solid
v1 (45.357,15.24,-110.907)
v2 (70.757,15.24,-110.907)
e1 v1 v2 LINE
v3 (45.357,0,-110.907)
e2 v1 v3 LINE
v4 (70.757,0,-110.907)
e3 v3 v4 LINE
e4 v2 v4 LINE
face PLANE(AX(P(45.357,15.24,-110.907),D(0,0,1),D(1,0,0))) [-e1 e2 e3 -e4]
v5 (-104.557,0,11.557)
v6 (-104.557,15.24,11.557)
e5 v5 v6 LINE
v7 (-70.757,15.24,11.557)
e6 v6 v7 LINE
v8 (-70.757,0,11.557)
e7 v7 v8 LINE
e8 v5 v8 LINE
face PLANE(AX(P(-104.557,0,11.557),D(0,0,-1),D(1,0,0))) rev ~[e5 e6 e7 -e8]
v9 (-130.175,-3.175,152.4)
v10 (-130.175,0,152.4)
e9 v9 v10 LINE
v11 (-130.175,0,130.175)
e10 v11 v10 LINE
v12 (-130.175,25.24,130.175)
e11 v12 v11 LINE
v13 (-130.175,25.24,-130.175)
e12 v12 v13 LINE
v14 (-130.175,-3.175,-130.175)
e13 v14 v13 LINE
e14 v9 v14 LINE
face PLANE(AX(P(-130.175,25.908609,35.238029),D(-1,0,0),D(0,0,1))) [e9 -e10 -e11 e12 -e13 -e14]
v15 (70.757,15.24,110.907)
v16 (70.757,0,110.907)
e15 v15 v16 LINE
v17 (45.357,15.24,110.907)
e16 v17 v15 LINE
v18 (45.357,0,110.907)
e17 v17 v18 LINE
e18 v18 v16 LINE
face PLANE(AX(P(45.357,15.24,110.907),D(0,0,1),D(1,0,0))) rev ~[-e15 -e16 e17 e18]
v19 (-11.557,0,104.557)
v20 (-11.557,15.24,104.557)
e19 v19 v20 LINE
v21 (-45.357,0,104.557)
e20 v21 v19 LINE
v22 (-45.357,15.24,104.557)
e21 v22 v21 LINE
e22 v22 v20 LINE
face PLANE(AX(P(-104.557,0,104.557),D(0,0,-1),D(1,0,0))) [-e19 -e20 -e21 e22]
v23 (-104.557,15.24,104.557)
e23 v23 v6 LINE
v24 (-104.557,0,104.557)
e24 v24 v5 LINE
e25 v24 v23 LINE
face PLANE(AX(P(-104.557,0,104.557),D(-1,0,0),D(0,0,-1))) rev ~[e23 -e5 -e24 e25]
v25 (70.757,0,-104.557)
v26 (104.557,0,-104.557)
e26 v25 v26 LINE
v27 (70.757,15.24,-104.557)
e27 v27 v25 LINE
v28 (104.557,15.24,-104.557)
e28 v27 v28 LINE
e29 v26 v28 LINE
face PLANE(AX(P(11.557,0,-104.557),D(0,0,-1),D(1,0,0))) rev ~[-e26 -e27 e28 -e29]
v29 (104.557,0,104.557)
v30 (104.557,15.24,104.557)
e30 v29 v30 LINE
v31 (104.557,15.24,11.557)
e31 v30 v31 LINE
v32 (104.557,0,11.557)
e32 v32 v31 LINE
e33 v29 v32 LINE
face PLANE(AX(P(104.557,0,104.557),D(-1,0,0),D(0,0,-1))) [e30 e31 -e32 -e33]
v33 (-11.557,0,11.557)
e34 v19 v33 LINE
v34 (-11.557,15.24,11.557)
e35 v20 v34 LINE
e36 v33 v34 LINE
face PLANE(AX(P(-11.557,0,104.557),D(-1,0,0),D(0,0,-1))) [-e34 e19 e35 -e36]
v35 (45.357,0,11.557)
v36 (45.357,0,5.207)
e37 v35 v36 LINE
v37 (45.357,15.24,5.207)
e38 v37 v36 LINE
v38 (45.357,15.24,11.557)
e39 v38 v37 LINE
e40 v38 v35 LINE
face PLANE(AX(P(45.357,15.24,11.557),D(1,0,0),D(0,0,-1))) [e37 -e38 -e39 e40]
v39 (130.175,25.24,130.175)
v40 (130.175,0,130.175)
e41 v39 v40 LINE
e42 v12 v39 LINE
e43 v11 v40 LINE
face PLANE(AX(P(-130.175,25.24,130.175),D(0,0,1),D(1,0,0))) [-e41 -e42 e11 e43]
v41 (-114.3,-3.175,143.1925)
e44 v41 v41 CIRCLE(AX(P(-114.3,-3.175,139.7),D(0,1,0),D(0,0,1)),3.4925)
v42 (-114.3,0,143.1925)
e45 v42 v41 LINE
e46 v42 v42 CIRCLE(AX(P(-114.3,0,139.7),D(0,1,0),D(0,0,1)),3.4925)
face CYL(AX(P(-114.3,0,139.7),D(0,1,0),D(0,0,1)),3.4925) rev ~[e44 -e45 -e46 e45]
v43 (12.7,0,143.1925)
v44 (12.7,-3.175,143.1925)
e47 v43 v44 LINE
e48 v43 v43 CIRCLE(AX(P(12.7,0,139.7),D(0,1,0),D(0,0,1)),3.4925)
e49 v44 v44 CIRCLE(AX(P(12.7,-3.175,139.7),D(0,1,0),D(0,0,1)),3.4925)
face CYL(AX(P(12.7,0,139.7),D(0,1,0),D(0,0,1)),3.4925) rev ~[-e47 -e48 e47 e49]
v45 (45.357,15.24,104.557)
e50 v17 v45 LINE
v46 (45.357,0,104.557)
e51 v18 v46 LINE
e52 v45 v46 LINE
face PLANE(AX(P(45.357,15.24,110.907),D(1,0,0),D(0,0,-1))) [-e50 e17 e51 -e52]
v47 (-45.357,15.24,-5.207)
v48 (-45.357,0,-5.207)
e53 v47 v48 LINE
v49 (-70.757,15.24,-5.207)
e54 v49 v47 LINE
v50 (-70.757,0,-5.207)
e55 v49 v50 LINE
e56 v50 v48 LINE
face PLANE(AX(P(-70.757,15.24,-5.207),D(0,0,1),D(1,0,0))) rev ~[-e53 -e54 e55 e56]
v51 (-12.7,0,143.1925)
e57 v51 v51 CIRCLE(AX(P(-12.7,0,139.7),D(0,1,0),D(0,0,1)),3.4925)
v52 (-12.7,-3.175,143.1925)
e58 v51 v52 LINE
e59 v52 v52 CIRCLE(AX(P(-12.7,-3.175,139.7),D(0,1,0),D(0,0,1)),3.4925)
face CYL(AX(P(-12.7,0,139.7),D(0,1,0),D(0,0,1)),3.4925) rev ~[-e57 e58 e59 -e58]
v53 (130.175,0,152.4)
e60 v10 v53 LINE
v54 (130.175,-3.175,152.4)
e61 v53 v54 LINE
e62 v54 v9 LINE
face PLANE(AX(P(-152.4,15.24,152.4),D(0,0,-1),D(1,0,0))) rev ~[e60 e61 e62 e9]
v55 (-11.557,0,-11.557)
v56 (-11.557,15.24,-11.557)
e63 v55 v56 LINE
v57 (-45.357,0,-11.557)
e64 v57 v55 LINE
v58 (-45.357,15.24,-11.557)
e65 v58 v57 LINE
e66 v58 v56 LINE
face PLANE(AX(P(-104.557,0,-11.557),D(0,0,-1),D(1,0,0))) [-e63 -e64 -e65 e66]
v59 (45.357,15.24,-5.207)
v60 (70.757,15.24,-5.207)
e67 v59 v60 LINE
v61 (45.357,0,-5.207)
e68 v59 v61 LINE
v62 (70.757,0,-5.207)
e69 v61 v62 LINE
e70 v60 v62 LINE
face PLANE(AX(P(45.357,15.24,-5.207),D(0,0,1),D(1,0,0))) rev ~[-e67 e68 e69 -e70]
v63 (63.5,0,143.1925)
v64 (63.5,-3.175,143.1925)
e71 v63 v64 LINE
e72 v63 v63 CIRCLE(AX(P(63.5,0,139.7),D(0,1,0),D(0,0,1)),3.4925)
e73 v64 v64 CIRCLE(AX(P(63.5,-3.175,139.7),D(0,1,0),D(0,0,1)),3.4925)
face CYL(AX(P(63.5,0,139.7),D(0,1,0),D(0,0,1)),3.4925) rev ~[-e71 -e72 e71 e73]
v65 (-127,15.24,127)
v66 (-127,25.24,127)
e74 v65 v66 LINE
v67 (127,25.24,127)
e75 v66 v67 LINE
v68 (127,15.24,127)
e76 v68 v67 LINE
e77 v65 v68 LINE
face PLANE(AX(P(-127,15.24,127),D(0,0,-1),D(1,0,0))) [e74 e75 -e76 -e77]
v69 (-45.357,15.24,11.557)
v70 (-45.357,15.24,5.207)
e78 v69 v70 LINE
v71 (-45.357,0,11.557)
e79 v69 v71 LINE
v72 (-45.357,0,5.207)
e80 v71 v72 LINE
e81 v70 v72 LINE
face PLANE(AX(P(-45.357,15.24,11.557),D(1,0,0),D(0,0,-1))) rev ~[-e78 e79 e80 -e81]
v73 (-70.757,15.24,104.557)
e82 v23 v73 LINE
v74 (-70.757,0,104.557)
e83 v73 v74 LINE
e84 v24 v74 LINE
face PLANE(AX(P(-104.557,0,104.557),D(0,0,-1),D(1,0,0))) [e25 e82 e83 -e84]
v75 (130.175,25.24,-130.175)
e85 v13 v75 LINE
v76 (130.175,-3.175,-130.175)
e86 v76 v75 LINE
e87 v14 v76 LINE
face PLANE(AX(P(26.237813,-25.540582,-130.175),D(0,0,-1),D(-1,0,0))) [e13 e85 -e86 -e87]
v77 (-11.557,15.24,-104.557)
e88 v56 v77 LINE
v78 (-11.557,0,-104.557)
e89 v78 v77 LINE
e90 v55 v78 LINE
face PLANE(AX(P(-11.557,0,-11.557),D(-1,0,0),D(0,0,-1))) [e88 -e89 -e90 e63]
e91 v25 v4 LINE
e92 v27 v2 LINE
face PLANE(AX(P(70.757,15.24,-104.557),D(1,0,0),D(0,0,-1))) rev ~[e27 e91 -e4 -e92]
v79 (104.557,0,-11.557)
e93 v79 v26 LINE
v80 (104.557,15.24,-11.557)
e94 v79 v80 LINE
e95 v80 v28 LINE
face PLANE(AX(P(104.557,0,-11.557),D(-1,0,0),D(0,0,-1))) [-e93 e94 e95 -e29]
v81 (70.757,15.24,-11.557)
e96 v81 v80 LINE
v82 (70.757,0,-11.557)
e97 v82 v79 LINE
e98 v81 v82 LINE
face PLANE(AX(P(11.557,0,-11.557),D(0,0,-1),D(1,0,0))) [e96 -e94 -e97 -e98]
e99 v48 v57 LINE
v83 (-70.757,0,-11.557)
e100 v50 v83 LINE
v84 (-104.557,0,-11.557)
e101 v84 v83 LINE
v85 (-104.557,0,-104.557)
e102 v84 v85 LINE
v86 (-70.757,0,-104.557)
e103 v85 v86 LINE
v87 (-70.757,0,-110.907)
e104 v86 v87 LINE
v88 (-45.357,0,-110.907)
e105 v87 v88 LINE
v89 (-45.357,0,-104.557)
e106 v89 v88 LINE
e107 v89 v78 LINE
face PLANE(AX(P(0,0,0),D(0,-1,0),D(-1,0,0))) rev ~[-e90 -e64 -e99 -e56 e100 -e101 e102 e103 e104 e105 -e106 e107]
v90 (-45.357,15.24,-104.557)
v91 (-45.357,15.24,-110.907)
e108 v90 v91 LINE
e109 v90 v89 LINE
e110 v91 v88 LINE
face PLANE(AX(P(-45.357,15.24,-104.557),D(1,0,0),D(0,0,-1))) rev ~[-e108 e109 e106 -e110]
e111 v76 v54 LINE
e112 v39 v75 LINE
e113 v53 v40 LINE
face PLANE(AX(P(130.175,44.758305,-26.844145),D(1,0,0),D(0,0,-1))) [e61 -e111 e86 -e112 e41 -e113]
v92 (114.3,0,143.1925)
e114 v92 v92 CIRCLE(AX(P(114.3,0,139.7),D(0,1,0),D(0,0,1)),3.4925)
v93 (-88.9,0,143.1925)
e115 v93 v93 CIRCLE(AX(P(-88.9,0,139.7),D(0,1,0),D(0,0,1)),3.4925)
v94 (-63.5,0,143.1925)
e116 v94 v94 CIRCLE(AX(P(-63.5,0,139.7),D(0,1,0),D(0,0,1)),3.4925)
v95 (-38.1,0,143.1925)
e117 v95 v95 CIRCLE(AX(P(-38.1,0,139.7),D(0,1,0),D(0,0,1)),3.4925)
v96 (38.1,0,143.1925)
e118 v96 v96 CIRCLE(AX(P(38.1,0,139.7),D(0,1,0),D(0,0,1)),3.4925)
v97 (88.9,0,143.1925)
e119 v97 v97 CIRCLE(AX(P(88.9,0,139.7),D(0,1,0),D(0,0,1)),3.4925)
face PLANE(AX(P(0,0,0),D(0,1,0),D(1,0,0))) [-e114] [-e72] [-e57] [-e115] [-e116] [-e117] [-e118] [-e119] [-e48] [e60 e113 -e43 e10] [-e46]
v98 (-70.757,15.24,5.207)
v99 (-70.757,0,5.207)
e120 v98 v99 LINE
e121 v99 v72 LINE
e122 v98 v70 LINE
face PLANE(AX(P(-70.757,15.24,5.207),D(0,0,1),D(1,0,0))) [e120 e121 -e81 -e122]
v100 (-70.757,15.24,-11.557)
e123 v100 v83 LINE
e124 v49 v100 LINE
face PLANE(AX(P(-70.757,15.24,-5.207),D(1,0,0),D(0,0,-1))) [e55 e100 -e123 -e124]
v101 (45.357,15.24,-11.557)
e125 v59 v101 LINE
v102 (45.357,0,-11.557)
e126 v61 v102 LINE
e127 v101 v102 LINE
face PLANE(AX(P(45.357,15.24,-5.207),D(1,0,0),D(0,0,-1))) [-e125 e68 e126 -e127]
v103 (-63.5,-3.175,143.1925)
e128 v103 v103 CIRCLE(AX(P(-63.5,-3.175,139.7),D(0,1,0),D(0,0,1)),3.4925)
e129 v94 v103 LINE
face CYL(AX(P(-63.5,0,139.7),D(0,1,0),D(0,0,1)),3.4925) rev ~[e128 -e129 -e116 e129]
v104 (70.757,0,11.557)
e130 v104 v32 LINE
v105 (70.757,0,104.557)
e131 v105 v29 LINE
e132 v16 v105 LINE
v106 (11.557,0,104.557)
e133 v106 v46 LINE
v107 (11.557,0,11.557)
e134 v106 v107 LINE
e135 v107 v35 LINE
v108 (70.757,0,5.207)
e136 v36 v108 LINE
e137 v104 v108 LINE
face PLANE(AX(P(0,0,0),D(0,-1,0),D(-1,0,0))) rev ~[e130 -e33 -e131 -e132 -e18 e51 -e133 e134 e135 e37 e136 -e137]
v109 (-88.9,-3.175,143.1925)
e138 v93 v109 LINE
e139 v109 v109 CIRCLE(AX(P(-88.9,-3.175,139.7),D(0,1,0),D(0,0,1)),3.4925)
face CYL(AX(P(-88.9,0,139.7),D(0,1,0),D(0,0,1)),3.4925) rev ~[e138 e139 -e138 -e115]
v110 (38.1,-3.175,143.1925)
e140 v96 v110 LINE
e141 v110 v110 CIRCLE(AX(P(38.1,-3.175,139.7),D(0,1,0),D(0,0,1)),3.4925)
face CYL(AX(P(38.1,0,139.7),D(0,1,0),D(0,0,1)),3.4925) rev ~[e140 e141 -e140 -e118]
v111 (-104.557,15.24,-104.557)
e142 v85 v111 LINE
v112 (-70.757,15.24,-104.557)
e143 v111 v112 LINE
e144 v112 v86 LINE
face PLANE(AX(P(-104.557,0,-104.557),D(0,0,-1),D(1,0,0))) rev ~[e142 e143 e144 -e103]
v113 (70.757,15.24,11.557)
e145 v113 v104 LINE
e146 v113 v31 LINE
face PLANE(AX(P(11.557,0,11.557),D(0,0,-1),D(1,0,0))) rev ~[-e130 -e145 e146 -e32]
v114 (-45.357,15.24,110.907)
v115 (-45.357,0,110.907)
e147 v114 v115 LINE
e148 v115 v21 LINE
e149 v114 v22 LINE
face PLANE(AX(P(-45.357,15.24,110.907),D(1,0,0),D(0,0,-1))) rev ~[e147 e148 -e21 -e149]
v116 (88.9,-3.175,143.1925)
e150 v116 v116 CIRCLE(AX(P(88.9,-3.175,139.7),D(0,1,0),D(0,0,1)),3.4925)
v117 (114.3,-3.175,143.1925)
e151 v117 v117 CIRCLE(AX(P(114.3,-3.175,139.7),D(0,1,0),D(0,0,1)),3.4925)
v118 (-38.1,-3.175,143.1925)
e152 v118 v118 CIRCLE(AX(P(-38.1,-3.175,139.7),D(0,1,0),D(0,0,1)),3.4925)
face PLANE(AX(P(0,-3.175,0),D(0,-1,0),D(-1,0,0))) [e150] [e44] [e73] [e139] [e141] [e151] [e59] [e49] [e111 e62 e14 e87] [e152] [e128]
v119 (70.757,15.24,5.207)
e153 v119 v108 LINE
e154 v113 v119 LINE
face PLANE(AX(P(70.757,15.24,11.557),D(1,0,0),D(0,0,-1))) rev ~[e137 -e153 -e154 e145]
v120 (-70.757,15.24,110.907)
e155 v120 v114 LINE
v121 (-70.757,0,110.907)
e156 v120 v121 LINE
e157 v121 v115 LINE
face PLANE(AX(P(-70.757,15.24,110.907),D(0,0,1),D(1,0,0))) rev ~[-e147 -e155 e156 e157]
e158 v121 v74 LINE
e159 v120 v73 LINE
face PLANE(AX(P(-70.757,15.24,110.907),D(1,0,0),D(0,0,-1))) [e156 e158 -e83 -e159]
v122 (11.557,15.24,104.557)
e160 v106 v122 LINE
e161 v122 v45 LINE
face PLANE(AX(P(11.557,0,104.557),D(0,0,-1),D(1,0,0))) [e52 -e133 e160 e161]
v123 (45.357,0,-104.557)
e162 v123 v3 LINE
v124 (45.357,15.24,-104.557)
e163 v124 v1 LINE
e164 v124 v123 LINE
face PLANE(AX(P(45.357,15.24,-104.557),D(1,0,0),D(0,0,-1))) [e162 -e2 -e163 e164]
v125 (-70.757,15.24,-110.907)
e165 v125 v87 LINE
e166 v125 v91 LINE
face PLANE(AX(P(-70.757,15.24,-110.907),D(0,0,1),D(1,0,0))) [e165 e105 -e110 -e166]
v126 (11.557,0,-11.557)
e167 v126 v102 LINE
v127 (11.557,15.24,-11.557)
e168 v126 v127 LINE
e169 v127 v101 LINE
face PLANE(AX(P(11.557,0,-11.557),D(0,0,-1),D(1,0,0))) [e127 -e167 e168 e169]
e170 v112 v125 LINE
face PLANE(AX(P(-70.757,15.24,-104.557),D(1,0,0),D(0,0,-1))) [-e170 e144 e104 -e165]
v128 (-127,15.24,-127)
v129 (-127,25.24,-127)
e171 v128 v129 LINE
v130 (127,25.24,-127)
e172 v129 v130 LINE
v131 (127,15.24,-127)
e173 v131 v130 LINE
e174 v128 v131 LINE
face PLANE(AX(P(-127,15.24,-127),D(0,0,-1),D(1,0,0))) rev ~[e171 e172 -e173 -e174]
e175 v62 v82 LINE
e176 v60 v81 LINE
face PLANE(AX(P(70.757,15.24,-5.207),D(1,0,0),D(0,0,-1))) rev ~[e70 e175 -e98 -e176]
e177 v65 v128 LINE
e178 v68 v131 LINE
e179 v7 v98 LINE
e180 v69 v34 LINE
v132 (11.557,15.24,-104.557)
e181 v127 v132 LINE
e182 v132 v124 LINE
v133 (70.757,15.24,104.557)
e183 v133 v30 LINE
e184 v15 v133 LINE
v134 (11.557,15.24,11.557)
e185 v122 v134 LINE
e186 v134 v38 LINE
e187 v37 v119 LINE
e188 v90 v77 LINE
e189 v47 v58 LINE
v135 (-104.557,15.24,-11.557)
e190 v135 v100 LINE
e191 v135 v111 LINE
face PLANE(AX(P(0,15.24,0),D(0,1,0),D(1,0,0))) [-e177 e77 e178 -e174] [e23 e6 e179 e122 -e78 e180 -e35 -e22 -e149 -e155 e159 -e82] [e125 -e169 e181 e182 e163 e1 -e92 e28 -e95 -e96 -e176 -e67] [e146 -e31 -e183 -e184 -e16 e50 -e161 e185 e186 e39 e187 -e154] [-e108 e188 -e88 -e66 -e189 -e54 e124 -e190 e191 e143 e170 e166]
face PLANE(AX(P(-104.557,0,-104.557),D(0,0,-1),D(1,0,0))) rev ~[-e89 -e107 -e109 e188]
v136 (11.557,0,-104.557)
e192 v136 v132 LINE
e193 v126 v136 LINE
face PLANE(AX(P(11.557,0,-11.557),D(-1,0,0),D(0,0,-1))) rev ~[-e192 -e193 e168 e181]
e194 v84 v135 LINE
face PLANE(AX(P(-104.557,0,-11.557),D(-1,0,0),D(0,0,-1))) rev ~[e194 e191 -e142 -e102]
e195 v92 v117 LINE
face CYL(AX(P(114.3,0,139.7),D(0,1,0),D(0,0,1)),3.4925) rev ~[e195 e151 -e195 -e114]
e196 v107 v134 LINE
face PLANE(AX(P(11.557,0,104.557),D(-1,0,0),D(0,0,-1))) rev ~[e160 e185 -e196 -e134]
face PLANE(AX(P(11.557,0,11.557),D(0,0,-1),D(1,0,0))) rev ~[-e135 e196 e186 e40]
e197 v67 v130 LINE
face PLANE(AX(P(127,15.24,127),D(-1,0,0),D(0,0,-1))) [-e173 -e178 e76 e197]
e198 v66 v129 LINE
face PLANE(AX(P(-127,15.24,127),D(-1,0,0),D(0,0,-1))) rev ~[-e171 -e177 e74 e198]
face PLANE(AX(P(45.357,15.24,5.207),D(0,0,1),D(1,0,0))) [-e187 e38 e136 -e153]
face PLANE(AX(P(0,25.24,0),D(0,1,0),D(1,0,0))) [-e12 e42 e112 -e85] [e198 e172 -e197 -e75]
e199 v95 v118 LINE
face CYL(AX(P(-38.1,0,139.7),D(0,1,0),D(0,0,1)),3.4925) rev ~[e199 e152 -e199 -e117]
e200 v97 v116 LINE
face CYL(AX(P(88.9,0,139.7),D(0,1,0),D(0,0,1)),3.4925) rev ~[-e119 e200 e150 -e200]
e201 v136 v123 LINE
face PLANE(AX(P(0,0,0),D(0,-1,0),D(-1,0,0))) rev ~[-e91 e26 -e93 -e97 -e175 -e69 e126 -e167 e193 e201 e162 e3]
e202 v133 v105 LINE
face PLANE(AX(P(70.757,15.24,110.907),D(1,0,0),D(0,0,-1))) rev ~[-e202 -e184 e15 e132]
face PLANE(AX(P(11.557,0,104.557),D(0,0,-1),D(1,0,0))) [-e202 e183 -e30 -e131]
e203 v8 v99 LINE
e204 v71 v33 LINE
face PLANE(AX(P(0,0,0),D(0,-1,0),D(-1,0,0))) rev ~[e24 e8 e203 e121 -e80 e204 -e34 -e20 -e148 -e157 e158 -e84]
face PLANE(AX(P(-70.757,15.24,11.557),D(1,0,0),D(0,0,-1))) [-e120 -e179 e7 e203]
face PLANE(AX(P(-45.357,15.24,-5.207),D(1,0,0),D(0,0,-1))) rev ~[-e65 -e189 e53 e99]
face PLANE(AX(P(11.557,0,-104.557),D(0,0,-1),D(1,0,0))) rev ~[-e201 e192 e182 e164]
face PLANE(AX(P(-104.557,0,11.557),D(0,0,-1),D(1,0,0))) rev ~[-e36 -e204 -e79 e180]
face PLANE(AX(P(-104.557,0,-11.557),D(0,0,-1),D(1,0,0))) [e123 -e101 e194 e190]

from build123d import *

# Parameters (mm, degrees)
SKETCH1_W           = 304.8
SKETCH1_H           = 304.8
SKETCH1_W_2         = 93
SKETCH1_H_2         = 93
BOSS_EXTRUDE1_DEPTH = 15.24
SKETCH2_W           = 304.8
SKETCH2_H           = 304.8
BOSS_EXTRUDE2_DEPTH = 3.175
SKETCH3_W           = 304.8
SKETCH3_H           = 304.8
SKETCH3_W_2         = 254
SKETCH3_H_2         = 254
BOSS_EXTRUDE3_DEPTH = 10
SKETCH4_OUTSIDE_W   = 393.198
SKETCH4_OUTSIDE_H   = 393.198
SKETCH4_OUTSIDE_W_2 = 260.35
SKETCH4_OUTSIDE_H_2 = 260.35
CUT_EXTRUDE1_DEPTH  = 25.24
SKETCH5_R           = 3.4925
CUT_EXTRUDE2_DEPTH  = 217.999026726
SKETCH6_W           = 25.4
SKETCH6_H           = 6.35
CUT_EXTRUDE3_DEPTH  = 15.24
SKETCH7_W           = 388.208697242
SKETCH7_H           = 185.968986832
CUT_EXTRUDE4_DEPTH  = 323.042618647
SKETCH8_W           = 545.051384684
SKETCH8_H           = 463.265958
CUT_EXTRUDE5_DEPTH  = 323.042618647
SKETCH9_W           = 585.539242267
SKETCH9_H           = 383.639310532
CUT_EXTRUDE6_DEPTH  = 303.729153039


with BuildPart() as part:
    # Sketch1 → Boss-Extrude1 (new body)
    with BuildSketch(Plane(origin=(0, 0, 0), x_dir=(1, 0, 0), z_dir=(0, 1, 0))):
        Rectangle(SKETCH1_W, SKETCH1_H)
        with Locations((58.057, 58.057)):
            Rectangle(SKETCH1_W_2, SKETCH1_H_2, mode=Mode.SUBTRACT)
        with Locations((-58.057, 58.057)):
            Rectangle(SKETCH1_W_2, SKETCH1_H_2, mode=Mode.SUBTRACT)
        with Locations((-58.057, -58.057)):
            Rectangle(SKETCH1_W_2, SKETCH1_H_2, mode=Mode.SUBTRACT)
        with Locations((58.057, -58.057)):
            Rectangle(SKETCH1_W_2, SKETCH1_H_2, mode=Mode.SUBTRACT)
    extrude(amount=BOSS_EXTRUDE1_DEPTH)

    # Sketch2 → Boss-Extrude2 (add)
    with BuildSketch(Plane(origin=(0, 0, 0), x_dir=(-1, 0, 0), z_dir=(0, -1, 0))):
        Rectangle(SKETCH2_W, SKETCH2_H)
    extrude(amount=BOSS_EXTRUDE2_DEPTH)

    # Sketch3 → Boss-Extrude3 (add)
    with BuildSketch(Plane(origin=(0, 15.24, 0), x_dir=(1, 0, 0), z_dir=(0, 1, 0))):
        Rectangle(SKETCH3_W, SKETCH3_H)
        Rectangle(SKETCH3_W_2, SKETCH3_H_2, mode=Mode.SUBTRACT)
    extrude(amount=BOSS_EXTRUDE3_DEPTH)

    # Sketch4 outside → Cut-Extrude1 (cut)
    with BuildSketch(Plane(origin=(0, 25.24, 0), x_dir=(1, 0, 0), z_dir=(0, 1, 0))):
        Rectangle(SKETCH4_OUTSIDE_W, SKETCH4_OUTSIDE_H)
        Rectangle(SKETCH4_OUTSIDE_W_2, SKETCH4_OUTSIDE_H_2, mode=Mode.SUBTRACT)
    extrude(amount=-CUT_EXTRUDE1_DEPTH, mode=Mode.SUBTRACT)

    # Sketch5 → Cut-Extrude2 (cut, through all)
    with BuildSketch(Plane(origin=(0, 0, 0), x_dir=(1, 0, 0), z_dir=(0, 1, 0))):
        with Locations(Location((-139.7, -139.7, 0), (0, 0, 270))):
            Circle(SKETCH5_R)
        with Locations(Location((-114.3, -139.7, 0), (0, 0, 270))):
            Circle(SKETCH5_R)
        with Locations(Location((-88.9, -139.7, 0), (0, 0, 270))):
            Circle(SKETCH5_R)
        with Locations(Location((-63.5, -139.7, 0), (0, 0, 270))):
            Circle(SKETCH5_R)
        with Locations(Location((-38.1, -139.7, 0), (0, 0, 270))):
            Circle(SKETCH5_R)
        with Locations(Location((-12.7, -139.7, 0), (0, 0, 270))):
            Circle(SKETCH5_R)
        with Locations(Location((12.7, -139.7, 0), (0, 0, 270))):
            Circle(SKETCH5_R)
        with Locations(Location((38.1, -139.7, 0), (0, 0, 270))):
            Circle(SKETCH5_R)
        with Locations(Location((63.5, -139.7, 0), (0, 0, 270))):
            Circle(SKETCH5_R)
        with Locations(Location((88.9, -139.7, 0), (0, 0, 270))):
            Circle(SKETCH5_R)
        with Locations(Location((114.3, -139.7, 0), (0, 0, 270))):
            Circle(SKETCH5_R)
        with Locations(Location((139.7, -139.7, 0), (0, 0, 270))):
            Circle(SKETCH5_R)
        with Locations(Location((-139.7, -114.3, 0), (0, 0, 270))):
            Circle(SKETCH5_R)
        with Locations(Location((-139.7, -88.9, 0), (0, 0, 270))):
            Circle(SKETCH5_R)
        with Locations(Location((-139.7, -63.5, 0), (0, 0, 270))):
            Circle(SKETCH5_R)
        with Locations(Location((-139.7, -38.1, 0), (0, 0, 270))):
            Circle(SKETCH5_R)
        with Locations(Location((-139.7, -12.7, 0), (0, 0, 270))):
            Circle(SKETCH5_R)
        with Locations(Location((-139.7, 12.7, 0), (0, 0, 270))):
            Circle(SKETCH5_R)
        with Locations(Location((-139.7, 38.1, 0), (0, 0, 270))):
            Circle(SKETCH5_R)
        with Locations(Location((-139.7, 63.5, 0), (0, 0, 270))):
            Circle(SKETCH5_R)
        with Locations(Location((-139.7, 88.9, 0), (0, 0, 270))):
            Circle(SKETCH5_R)
        with Locations(Location((-139.7, 114.3, 0), (0, 0, 270))):
            Circle(SKETCH5_R)
        with Locations(Location((-139.7, 139.7, 0), (0, 0, 270))):
            Circle(SKETCH5_R)
        with Locations(Location((-114.3, 139.7, 0), (0, 0, 270))):
            Circle(SKETCH5_R)
        with Locations(Location((-88.9, 139.7, 0), (0, 0, 270))):
            Circle(SKETCH5_R)
        with Locations(Location((-63.5, 139.7, 0), (0, 0, 270))):
            Circle(SKETCH5_R)
        with Locations(Location((-38.1, 139.7, 0), (0, 0, 270))):
            Circle(SKETCH5_R)
        with Locations(Location((-12.7, 139.7, 0), (0, 0, 270))):
            Circle(SKETCH5_R)
        with Locations(Location((12.7, 139.7, 0), (0, 0, 270))):
            Circle(SKETCH5_R)
        with Locations(Location((38.1, 139.7, 0), (0, 0, 270))):
            Circle(SKETCH5_R)
        with Locations(Location((63.5, 139.7, 0), (0, 0, 270))):
            Circle(SKETCH5_R)
        with Locations(Location((88.9, 139.7, 0), (0, 0, 270))):
            Circle(SKETCH5_R)
        with Locations(Location((114.3, 139.7, 0), (0, 0, 270))):
            Circle(SKETCH5_R)
        with Locations(Location((139.7, 139.7, 0), (0, 0, 270))):
            Circle(SKETCH5_R)
        with Locations(Location((139.7, 114.3, 0), (0, 0, 270))):
            Circle(SKETCH5_R)
        with Locations(Location((139.7, 88.9, 0), (0, 0, 270))):
            Circle(SKETCH5_R)
        with Locations(Location((139.7, 63.5, 0), (0, 0, 270))):
            Circle(SKETCH5_R)
        with Locations(Location((139.7, 38.1, 0), (0, 0, 270))):
            Circle(SKETCH5_R)
        with Locations(Location((139.7, 12.7, 0), (0, 0, 270))):
            Circle(SKETCH5_R)
        with Locations(Location((139.7, -12.7, 0), (0, 0, 270))):
            Circle(SKETCH5_R)
        with Locations(Location((139.7, -38.1, 0), (0, 0, 270))):
            Circle(SKETCH5_R)
        with Locations(Location((139.7, -63.5, 0), (0, 0, 270))):
            Circle(SKETCH5_R)
        with Locations(Location((139.7, -88.9, 0), (0, 0, 270))):
            Circle(SKETCH5_R)
        with Locations(Location((139.7, -114.3, 0), (0, 0, 270))):
            Circle(SKETCH5_R)
    extrude(amount=-CUT_EXTRUDE2_DEPTH, mode=Mode.SUBTRACT)

    # Sketch6 → Cut-Extrude3 (cut)
    with BuildSketch(Plane(origin=(0, 15.24, 0), x_dir=(1, 0, 0), z_dir=(0, 1, 0))):
        with Locations((-58.057, 107.732)):
            Rectangle(SKETCH6_W, SKETCH6_H)
        with Locations((-58.057, -8.382)):
            Rectangle(SKETCH6_W, SKETCH6_H)
        with Locations((-58.057, 8.382)):
            Rectangle(SKETCH6_W, SKETCH6_H)
        with Locations((-58.057, -107.732)):
            Rectangle(SKETCH6_W, SKETCH6_H)
        with Locations((58.057, -107.732)):
            Rectangle(SKETCH6_W, SKETCH6_H)
        with Locations((58.057, -8.382)):
            Rectangle(SKETCH6_W, SKETCH6_H)
        with Locations((58.057, 8.382)):
            Rectangle(SKETCH6_W, SKETCH6_H)
        with Locations((58.057, 107.732)):
            Rectangle(SKETCH6_W, SKETCH6_H)
    extrude(amount=-CUT_EXTRUDE3_DEPTH, mode=Mode.SUBTRACT)

    # Sketch7 → Cut-Extrude4 (cut, through all)
    with BuildSketch(Plane(origin=(0, 0, -130.175), x_dir=(-1, 0, 0), z_dir=(0, 0, -1))):
        with Locations((-26.237813245, -25.540582214)):
            Rectangle(SKETCH7_W, SKETCH7_H)
    extrude(amount=CUT_EXTRUDE4_DEPTH, mode=Mode.SUBTRACT)

    # Sketch8 → Cut-Extrude5 (cut, through all)
    with BuildSketch(Plane.ZY.offset(130.175)):
        with Locations((35.238029092, 25.908608745)):
            Rectangle(SKETCH8_W, SKETCH8_H)
    extrude(amount=CUT_EXTRUDE5_DEPTH, mode=Mode.SUBTRACT)

    # Sketch9 → Cut-Extrude6 (cut, through all)
    with BuildSketch(Plane(origin=(130.175, 0, 0), x_dir=(0, 0, -1), z_dir=(1, 0, 0))):
        with Locations((26.844145207, 44.758305083)):
            Rectangle(SKETCH9_W, SKETCH9_H)
    extrude(amount=CUT_EXTRUDE6_DEPTH, mode=Mode.SUBTRACT)


solid = part.part
